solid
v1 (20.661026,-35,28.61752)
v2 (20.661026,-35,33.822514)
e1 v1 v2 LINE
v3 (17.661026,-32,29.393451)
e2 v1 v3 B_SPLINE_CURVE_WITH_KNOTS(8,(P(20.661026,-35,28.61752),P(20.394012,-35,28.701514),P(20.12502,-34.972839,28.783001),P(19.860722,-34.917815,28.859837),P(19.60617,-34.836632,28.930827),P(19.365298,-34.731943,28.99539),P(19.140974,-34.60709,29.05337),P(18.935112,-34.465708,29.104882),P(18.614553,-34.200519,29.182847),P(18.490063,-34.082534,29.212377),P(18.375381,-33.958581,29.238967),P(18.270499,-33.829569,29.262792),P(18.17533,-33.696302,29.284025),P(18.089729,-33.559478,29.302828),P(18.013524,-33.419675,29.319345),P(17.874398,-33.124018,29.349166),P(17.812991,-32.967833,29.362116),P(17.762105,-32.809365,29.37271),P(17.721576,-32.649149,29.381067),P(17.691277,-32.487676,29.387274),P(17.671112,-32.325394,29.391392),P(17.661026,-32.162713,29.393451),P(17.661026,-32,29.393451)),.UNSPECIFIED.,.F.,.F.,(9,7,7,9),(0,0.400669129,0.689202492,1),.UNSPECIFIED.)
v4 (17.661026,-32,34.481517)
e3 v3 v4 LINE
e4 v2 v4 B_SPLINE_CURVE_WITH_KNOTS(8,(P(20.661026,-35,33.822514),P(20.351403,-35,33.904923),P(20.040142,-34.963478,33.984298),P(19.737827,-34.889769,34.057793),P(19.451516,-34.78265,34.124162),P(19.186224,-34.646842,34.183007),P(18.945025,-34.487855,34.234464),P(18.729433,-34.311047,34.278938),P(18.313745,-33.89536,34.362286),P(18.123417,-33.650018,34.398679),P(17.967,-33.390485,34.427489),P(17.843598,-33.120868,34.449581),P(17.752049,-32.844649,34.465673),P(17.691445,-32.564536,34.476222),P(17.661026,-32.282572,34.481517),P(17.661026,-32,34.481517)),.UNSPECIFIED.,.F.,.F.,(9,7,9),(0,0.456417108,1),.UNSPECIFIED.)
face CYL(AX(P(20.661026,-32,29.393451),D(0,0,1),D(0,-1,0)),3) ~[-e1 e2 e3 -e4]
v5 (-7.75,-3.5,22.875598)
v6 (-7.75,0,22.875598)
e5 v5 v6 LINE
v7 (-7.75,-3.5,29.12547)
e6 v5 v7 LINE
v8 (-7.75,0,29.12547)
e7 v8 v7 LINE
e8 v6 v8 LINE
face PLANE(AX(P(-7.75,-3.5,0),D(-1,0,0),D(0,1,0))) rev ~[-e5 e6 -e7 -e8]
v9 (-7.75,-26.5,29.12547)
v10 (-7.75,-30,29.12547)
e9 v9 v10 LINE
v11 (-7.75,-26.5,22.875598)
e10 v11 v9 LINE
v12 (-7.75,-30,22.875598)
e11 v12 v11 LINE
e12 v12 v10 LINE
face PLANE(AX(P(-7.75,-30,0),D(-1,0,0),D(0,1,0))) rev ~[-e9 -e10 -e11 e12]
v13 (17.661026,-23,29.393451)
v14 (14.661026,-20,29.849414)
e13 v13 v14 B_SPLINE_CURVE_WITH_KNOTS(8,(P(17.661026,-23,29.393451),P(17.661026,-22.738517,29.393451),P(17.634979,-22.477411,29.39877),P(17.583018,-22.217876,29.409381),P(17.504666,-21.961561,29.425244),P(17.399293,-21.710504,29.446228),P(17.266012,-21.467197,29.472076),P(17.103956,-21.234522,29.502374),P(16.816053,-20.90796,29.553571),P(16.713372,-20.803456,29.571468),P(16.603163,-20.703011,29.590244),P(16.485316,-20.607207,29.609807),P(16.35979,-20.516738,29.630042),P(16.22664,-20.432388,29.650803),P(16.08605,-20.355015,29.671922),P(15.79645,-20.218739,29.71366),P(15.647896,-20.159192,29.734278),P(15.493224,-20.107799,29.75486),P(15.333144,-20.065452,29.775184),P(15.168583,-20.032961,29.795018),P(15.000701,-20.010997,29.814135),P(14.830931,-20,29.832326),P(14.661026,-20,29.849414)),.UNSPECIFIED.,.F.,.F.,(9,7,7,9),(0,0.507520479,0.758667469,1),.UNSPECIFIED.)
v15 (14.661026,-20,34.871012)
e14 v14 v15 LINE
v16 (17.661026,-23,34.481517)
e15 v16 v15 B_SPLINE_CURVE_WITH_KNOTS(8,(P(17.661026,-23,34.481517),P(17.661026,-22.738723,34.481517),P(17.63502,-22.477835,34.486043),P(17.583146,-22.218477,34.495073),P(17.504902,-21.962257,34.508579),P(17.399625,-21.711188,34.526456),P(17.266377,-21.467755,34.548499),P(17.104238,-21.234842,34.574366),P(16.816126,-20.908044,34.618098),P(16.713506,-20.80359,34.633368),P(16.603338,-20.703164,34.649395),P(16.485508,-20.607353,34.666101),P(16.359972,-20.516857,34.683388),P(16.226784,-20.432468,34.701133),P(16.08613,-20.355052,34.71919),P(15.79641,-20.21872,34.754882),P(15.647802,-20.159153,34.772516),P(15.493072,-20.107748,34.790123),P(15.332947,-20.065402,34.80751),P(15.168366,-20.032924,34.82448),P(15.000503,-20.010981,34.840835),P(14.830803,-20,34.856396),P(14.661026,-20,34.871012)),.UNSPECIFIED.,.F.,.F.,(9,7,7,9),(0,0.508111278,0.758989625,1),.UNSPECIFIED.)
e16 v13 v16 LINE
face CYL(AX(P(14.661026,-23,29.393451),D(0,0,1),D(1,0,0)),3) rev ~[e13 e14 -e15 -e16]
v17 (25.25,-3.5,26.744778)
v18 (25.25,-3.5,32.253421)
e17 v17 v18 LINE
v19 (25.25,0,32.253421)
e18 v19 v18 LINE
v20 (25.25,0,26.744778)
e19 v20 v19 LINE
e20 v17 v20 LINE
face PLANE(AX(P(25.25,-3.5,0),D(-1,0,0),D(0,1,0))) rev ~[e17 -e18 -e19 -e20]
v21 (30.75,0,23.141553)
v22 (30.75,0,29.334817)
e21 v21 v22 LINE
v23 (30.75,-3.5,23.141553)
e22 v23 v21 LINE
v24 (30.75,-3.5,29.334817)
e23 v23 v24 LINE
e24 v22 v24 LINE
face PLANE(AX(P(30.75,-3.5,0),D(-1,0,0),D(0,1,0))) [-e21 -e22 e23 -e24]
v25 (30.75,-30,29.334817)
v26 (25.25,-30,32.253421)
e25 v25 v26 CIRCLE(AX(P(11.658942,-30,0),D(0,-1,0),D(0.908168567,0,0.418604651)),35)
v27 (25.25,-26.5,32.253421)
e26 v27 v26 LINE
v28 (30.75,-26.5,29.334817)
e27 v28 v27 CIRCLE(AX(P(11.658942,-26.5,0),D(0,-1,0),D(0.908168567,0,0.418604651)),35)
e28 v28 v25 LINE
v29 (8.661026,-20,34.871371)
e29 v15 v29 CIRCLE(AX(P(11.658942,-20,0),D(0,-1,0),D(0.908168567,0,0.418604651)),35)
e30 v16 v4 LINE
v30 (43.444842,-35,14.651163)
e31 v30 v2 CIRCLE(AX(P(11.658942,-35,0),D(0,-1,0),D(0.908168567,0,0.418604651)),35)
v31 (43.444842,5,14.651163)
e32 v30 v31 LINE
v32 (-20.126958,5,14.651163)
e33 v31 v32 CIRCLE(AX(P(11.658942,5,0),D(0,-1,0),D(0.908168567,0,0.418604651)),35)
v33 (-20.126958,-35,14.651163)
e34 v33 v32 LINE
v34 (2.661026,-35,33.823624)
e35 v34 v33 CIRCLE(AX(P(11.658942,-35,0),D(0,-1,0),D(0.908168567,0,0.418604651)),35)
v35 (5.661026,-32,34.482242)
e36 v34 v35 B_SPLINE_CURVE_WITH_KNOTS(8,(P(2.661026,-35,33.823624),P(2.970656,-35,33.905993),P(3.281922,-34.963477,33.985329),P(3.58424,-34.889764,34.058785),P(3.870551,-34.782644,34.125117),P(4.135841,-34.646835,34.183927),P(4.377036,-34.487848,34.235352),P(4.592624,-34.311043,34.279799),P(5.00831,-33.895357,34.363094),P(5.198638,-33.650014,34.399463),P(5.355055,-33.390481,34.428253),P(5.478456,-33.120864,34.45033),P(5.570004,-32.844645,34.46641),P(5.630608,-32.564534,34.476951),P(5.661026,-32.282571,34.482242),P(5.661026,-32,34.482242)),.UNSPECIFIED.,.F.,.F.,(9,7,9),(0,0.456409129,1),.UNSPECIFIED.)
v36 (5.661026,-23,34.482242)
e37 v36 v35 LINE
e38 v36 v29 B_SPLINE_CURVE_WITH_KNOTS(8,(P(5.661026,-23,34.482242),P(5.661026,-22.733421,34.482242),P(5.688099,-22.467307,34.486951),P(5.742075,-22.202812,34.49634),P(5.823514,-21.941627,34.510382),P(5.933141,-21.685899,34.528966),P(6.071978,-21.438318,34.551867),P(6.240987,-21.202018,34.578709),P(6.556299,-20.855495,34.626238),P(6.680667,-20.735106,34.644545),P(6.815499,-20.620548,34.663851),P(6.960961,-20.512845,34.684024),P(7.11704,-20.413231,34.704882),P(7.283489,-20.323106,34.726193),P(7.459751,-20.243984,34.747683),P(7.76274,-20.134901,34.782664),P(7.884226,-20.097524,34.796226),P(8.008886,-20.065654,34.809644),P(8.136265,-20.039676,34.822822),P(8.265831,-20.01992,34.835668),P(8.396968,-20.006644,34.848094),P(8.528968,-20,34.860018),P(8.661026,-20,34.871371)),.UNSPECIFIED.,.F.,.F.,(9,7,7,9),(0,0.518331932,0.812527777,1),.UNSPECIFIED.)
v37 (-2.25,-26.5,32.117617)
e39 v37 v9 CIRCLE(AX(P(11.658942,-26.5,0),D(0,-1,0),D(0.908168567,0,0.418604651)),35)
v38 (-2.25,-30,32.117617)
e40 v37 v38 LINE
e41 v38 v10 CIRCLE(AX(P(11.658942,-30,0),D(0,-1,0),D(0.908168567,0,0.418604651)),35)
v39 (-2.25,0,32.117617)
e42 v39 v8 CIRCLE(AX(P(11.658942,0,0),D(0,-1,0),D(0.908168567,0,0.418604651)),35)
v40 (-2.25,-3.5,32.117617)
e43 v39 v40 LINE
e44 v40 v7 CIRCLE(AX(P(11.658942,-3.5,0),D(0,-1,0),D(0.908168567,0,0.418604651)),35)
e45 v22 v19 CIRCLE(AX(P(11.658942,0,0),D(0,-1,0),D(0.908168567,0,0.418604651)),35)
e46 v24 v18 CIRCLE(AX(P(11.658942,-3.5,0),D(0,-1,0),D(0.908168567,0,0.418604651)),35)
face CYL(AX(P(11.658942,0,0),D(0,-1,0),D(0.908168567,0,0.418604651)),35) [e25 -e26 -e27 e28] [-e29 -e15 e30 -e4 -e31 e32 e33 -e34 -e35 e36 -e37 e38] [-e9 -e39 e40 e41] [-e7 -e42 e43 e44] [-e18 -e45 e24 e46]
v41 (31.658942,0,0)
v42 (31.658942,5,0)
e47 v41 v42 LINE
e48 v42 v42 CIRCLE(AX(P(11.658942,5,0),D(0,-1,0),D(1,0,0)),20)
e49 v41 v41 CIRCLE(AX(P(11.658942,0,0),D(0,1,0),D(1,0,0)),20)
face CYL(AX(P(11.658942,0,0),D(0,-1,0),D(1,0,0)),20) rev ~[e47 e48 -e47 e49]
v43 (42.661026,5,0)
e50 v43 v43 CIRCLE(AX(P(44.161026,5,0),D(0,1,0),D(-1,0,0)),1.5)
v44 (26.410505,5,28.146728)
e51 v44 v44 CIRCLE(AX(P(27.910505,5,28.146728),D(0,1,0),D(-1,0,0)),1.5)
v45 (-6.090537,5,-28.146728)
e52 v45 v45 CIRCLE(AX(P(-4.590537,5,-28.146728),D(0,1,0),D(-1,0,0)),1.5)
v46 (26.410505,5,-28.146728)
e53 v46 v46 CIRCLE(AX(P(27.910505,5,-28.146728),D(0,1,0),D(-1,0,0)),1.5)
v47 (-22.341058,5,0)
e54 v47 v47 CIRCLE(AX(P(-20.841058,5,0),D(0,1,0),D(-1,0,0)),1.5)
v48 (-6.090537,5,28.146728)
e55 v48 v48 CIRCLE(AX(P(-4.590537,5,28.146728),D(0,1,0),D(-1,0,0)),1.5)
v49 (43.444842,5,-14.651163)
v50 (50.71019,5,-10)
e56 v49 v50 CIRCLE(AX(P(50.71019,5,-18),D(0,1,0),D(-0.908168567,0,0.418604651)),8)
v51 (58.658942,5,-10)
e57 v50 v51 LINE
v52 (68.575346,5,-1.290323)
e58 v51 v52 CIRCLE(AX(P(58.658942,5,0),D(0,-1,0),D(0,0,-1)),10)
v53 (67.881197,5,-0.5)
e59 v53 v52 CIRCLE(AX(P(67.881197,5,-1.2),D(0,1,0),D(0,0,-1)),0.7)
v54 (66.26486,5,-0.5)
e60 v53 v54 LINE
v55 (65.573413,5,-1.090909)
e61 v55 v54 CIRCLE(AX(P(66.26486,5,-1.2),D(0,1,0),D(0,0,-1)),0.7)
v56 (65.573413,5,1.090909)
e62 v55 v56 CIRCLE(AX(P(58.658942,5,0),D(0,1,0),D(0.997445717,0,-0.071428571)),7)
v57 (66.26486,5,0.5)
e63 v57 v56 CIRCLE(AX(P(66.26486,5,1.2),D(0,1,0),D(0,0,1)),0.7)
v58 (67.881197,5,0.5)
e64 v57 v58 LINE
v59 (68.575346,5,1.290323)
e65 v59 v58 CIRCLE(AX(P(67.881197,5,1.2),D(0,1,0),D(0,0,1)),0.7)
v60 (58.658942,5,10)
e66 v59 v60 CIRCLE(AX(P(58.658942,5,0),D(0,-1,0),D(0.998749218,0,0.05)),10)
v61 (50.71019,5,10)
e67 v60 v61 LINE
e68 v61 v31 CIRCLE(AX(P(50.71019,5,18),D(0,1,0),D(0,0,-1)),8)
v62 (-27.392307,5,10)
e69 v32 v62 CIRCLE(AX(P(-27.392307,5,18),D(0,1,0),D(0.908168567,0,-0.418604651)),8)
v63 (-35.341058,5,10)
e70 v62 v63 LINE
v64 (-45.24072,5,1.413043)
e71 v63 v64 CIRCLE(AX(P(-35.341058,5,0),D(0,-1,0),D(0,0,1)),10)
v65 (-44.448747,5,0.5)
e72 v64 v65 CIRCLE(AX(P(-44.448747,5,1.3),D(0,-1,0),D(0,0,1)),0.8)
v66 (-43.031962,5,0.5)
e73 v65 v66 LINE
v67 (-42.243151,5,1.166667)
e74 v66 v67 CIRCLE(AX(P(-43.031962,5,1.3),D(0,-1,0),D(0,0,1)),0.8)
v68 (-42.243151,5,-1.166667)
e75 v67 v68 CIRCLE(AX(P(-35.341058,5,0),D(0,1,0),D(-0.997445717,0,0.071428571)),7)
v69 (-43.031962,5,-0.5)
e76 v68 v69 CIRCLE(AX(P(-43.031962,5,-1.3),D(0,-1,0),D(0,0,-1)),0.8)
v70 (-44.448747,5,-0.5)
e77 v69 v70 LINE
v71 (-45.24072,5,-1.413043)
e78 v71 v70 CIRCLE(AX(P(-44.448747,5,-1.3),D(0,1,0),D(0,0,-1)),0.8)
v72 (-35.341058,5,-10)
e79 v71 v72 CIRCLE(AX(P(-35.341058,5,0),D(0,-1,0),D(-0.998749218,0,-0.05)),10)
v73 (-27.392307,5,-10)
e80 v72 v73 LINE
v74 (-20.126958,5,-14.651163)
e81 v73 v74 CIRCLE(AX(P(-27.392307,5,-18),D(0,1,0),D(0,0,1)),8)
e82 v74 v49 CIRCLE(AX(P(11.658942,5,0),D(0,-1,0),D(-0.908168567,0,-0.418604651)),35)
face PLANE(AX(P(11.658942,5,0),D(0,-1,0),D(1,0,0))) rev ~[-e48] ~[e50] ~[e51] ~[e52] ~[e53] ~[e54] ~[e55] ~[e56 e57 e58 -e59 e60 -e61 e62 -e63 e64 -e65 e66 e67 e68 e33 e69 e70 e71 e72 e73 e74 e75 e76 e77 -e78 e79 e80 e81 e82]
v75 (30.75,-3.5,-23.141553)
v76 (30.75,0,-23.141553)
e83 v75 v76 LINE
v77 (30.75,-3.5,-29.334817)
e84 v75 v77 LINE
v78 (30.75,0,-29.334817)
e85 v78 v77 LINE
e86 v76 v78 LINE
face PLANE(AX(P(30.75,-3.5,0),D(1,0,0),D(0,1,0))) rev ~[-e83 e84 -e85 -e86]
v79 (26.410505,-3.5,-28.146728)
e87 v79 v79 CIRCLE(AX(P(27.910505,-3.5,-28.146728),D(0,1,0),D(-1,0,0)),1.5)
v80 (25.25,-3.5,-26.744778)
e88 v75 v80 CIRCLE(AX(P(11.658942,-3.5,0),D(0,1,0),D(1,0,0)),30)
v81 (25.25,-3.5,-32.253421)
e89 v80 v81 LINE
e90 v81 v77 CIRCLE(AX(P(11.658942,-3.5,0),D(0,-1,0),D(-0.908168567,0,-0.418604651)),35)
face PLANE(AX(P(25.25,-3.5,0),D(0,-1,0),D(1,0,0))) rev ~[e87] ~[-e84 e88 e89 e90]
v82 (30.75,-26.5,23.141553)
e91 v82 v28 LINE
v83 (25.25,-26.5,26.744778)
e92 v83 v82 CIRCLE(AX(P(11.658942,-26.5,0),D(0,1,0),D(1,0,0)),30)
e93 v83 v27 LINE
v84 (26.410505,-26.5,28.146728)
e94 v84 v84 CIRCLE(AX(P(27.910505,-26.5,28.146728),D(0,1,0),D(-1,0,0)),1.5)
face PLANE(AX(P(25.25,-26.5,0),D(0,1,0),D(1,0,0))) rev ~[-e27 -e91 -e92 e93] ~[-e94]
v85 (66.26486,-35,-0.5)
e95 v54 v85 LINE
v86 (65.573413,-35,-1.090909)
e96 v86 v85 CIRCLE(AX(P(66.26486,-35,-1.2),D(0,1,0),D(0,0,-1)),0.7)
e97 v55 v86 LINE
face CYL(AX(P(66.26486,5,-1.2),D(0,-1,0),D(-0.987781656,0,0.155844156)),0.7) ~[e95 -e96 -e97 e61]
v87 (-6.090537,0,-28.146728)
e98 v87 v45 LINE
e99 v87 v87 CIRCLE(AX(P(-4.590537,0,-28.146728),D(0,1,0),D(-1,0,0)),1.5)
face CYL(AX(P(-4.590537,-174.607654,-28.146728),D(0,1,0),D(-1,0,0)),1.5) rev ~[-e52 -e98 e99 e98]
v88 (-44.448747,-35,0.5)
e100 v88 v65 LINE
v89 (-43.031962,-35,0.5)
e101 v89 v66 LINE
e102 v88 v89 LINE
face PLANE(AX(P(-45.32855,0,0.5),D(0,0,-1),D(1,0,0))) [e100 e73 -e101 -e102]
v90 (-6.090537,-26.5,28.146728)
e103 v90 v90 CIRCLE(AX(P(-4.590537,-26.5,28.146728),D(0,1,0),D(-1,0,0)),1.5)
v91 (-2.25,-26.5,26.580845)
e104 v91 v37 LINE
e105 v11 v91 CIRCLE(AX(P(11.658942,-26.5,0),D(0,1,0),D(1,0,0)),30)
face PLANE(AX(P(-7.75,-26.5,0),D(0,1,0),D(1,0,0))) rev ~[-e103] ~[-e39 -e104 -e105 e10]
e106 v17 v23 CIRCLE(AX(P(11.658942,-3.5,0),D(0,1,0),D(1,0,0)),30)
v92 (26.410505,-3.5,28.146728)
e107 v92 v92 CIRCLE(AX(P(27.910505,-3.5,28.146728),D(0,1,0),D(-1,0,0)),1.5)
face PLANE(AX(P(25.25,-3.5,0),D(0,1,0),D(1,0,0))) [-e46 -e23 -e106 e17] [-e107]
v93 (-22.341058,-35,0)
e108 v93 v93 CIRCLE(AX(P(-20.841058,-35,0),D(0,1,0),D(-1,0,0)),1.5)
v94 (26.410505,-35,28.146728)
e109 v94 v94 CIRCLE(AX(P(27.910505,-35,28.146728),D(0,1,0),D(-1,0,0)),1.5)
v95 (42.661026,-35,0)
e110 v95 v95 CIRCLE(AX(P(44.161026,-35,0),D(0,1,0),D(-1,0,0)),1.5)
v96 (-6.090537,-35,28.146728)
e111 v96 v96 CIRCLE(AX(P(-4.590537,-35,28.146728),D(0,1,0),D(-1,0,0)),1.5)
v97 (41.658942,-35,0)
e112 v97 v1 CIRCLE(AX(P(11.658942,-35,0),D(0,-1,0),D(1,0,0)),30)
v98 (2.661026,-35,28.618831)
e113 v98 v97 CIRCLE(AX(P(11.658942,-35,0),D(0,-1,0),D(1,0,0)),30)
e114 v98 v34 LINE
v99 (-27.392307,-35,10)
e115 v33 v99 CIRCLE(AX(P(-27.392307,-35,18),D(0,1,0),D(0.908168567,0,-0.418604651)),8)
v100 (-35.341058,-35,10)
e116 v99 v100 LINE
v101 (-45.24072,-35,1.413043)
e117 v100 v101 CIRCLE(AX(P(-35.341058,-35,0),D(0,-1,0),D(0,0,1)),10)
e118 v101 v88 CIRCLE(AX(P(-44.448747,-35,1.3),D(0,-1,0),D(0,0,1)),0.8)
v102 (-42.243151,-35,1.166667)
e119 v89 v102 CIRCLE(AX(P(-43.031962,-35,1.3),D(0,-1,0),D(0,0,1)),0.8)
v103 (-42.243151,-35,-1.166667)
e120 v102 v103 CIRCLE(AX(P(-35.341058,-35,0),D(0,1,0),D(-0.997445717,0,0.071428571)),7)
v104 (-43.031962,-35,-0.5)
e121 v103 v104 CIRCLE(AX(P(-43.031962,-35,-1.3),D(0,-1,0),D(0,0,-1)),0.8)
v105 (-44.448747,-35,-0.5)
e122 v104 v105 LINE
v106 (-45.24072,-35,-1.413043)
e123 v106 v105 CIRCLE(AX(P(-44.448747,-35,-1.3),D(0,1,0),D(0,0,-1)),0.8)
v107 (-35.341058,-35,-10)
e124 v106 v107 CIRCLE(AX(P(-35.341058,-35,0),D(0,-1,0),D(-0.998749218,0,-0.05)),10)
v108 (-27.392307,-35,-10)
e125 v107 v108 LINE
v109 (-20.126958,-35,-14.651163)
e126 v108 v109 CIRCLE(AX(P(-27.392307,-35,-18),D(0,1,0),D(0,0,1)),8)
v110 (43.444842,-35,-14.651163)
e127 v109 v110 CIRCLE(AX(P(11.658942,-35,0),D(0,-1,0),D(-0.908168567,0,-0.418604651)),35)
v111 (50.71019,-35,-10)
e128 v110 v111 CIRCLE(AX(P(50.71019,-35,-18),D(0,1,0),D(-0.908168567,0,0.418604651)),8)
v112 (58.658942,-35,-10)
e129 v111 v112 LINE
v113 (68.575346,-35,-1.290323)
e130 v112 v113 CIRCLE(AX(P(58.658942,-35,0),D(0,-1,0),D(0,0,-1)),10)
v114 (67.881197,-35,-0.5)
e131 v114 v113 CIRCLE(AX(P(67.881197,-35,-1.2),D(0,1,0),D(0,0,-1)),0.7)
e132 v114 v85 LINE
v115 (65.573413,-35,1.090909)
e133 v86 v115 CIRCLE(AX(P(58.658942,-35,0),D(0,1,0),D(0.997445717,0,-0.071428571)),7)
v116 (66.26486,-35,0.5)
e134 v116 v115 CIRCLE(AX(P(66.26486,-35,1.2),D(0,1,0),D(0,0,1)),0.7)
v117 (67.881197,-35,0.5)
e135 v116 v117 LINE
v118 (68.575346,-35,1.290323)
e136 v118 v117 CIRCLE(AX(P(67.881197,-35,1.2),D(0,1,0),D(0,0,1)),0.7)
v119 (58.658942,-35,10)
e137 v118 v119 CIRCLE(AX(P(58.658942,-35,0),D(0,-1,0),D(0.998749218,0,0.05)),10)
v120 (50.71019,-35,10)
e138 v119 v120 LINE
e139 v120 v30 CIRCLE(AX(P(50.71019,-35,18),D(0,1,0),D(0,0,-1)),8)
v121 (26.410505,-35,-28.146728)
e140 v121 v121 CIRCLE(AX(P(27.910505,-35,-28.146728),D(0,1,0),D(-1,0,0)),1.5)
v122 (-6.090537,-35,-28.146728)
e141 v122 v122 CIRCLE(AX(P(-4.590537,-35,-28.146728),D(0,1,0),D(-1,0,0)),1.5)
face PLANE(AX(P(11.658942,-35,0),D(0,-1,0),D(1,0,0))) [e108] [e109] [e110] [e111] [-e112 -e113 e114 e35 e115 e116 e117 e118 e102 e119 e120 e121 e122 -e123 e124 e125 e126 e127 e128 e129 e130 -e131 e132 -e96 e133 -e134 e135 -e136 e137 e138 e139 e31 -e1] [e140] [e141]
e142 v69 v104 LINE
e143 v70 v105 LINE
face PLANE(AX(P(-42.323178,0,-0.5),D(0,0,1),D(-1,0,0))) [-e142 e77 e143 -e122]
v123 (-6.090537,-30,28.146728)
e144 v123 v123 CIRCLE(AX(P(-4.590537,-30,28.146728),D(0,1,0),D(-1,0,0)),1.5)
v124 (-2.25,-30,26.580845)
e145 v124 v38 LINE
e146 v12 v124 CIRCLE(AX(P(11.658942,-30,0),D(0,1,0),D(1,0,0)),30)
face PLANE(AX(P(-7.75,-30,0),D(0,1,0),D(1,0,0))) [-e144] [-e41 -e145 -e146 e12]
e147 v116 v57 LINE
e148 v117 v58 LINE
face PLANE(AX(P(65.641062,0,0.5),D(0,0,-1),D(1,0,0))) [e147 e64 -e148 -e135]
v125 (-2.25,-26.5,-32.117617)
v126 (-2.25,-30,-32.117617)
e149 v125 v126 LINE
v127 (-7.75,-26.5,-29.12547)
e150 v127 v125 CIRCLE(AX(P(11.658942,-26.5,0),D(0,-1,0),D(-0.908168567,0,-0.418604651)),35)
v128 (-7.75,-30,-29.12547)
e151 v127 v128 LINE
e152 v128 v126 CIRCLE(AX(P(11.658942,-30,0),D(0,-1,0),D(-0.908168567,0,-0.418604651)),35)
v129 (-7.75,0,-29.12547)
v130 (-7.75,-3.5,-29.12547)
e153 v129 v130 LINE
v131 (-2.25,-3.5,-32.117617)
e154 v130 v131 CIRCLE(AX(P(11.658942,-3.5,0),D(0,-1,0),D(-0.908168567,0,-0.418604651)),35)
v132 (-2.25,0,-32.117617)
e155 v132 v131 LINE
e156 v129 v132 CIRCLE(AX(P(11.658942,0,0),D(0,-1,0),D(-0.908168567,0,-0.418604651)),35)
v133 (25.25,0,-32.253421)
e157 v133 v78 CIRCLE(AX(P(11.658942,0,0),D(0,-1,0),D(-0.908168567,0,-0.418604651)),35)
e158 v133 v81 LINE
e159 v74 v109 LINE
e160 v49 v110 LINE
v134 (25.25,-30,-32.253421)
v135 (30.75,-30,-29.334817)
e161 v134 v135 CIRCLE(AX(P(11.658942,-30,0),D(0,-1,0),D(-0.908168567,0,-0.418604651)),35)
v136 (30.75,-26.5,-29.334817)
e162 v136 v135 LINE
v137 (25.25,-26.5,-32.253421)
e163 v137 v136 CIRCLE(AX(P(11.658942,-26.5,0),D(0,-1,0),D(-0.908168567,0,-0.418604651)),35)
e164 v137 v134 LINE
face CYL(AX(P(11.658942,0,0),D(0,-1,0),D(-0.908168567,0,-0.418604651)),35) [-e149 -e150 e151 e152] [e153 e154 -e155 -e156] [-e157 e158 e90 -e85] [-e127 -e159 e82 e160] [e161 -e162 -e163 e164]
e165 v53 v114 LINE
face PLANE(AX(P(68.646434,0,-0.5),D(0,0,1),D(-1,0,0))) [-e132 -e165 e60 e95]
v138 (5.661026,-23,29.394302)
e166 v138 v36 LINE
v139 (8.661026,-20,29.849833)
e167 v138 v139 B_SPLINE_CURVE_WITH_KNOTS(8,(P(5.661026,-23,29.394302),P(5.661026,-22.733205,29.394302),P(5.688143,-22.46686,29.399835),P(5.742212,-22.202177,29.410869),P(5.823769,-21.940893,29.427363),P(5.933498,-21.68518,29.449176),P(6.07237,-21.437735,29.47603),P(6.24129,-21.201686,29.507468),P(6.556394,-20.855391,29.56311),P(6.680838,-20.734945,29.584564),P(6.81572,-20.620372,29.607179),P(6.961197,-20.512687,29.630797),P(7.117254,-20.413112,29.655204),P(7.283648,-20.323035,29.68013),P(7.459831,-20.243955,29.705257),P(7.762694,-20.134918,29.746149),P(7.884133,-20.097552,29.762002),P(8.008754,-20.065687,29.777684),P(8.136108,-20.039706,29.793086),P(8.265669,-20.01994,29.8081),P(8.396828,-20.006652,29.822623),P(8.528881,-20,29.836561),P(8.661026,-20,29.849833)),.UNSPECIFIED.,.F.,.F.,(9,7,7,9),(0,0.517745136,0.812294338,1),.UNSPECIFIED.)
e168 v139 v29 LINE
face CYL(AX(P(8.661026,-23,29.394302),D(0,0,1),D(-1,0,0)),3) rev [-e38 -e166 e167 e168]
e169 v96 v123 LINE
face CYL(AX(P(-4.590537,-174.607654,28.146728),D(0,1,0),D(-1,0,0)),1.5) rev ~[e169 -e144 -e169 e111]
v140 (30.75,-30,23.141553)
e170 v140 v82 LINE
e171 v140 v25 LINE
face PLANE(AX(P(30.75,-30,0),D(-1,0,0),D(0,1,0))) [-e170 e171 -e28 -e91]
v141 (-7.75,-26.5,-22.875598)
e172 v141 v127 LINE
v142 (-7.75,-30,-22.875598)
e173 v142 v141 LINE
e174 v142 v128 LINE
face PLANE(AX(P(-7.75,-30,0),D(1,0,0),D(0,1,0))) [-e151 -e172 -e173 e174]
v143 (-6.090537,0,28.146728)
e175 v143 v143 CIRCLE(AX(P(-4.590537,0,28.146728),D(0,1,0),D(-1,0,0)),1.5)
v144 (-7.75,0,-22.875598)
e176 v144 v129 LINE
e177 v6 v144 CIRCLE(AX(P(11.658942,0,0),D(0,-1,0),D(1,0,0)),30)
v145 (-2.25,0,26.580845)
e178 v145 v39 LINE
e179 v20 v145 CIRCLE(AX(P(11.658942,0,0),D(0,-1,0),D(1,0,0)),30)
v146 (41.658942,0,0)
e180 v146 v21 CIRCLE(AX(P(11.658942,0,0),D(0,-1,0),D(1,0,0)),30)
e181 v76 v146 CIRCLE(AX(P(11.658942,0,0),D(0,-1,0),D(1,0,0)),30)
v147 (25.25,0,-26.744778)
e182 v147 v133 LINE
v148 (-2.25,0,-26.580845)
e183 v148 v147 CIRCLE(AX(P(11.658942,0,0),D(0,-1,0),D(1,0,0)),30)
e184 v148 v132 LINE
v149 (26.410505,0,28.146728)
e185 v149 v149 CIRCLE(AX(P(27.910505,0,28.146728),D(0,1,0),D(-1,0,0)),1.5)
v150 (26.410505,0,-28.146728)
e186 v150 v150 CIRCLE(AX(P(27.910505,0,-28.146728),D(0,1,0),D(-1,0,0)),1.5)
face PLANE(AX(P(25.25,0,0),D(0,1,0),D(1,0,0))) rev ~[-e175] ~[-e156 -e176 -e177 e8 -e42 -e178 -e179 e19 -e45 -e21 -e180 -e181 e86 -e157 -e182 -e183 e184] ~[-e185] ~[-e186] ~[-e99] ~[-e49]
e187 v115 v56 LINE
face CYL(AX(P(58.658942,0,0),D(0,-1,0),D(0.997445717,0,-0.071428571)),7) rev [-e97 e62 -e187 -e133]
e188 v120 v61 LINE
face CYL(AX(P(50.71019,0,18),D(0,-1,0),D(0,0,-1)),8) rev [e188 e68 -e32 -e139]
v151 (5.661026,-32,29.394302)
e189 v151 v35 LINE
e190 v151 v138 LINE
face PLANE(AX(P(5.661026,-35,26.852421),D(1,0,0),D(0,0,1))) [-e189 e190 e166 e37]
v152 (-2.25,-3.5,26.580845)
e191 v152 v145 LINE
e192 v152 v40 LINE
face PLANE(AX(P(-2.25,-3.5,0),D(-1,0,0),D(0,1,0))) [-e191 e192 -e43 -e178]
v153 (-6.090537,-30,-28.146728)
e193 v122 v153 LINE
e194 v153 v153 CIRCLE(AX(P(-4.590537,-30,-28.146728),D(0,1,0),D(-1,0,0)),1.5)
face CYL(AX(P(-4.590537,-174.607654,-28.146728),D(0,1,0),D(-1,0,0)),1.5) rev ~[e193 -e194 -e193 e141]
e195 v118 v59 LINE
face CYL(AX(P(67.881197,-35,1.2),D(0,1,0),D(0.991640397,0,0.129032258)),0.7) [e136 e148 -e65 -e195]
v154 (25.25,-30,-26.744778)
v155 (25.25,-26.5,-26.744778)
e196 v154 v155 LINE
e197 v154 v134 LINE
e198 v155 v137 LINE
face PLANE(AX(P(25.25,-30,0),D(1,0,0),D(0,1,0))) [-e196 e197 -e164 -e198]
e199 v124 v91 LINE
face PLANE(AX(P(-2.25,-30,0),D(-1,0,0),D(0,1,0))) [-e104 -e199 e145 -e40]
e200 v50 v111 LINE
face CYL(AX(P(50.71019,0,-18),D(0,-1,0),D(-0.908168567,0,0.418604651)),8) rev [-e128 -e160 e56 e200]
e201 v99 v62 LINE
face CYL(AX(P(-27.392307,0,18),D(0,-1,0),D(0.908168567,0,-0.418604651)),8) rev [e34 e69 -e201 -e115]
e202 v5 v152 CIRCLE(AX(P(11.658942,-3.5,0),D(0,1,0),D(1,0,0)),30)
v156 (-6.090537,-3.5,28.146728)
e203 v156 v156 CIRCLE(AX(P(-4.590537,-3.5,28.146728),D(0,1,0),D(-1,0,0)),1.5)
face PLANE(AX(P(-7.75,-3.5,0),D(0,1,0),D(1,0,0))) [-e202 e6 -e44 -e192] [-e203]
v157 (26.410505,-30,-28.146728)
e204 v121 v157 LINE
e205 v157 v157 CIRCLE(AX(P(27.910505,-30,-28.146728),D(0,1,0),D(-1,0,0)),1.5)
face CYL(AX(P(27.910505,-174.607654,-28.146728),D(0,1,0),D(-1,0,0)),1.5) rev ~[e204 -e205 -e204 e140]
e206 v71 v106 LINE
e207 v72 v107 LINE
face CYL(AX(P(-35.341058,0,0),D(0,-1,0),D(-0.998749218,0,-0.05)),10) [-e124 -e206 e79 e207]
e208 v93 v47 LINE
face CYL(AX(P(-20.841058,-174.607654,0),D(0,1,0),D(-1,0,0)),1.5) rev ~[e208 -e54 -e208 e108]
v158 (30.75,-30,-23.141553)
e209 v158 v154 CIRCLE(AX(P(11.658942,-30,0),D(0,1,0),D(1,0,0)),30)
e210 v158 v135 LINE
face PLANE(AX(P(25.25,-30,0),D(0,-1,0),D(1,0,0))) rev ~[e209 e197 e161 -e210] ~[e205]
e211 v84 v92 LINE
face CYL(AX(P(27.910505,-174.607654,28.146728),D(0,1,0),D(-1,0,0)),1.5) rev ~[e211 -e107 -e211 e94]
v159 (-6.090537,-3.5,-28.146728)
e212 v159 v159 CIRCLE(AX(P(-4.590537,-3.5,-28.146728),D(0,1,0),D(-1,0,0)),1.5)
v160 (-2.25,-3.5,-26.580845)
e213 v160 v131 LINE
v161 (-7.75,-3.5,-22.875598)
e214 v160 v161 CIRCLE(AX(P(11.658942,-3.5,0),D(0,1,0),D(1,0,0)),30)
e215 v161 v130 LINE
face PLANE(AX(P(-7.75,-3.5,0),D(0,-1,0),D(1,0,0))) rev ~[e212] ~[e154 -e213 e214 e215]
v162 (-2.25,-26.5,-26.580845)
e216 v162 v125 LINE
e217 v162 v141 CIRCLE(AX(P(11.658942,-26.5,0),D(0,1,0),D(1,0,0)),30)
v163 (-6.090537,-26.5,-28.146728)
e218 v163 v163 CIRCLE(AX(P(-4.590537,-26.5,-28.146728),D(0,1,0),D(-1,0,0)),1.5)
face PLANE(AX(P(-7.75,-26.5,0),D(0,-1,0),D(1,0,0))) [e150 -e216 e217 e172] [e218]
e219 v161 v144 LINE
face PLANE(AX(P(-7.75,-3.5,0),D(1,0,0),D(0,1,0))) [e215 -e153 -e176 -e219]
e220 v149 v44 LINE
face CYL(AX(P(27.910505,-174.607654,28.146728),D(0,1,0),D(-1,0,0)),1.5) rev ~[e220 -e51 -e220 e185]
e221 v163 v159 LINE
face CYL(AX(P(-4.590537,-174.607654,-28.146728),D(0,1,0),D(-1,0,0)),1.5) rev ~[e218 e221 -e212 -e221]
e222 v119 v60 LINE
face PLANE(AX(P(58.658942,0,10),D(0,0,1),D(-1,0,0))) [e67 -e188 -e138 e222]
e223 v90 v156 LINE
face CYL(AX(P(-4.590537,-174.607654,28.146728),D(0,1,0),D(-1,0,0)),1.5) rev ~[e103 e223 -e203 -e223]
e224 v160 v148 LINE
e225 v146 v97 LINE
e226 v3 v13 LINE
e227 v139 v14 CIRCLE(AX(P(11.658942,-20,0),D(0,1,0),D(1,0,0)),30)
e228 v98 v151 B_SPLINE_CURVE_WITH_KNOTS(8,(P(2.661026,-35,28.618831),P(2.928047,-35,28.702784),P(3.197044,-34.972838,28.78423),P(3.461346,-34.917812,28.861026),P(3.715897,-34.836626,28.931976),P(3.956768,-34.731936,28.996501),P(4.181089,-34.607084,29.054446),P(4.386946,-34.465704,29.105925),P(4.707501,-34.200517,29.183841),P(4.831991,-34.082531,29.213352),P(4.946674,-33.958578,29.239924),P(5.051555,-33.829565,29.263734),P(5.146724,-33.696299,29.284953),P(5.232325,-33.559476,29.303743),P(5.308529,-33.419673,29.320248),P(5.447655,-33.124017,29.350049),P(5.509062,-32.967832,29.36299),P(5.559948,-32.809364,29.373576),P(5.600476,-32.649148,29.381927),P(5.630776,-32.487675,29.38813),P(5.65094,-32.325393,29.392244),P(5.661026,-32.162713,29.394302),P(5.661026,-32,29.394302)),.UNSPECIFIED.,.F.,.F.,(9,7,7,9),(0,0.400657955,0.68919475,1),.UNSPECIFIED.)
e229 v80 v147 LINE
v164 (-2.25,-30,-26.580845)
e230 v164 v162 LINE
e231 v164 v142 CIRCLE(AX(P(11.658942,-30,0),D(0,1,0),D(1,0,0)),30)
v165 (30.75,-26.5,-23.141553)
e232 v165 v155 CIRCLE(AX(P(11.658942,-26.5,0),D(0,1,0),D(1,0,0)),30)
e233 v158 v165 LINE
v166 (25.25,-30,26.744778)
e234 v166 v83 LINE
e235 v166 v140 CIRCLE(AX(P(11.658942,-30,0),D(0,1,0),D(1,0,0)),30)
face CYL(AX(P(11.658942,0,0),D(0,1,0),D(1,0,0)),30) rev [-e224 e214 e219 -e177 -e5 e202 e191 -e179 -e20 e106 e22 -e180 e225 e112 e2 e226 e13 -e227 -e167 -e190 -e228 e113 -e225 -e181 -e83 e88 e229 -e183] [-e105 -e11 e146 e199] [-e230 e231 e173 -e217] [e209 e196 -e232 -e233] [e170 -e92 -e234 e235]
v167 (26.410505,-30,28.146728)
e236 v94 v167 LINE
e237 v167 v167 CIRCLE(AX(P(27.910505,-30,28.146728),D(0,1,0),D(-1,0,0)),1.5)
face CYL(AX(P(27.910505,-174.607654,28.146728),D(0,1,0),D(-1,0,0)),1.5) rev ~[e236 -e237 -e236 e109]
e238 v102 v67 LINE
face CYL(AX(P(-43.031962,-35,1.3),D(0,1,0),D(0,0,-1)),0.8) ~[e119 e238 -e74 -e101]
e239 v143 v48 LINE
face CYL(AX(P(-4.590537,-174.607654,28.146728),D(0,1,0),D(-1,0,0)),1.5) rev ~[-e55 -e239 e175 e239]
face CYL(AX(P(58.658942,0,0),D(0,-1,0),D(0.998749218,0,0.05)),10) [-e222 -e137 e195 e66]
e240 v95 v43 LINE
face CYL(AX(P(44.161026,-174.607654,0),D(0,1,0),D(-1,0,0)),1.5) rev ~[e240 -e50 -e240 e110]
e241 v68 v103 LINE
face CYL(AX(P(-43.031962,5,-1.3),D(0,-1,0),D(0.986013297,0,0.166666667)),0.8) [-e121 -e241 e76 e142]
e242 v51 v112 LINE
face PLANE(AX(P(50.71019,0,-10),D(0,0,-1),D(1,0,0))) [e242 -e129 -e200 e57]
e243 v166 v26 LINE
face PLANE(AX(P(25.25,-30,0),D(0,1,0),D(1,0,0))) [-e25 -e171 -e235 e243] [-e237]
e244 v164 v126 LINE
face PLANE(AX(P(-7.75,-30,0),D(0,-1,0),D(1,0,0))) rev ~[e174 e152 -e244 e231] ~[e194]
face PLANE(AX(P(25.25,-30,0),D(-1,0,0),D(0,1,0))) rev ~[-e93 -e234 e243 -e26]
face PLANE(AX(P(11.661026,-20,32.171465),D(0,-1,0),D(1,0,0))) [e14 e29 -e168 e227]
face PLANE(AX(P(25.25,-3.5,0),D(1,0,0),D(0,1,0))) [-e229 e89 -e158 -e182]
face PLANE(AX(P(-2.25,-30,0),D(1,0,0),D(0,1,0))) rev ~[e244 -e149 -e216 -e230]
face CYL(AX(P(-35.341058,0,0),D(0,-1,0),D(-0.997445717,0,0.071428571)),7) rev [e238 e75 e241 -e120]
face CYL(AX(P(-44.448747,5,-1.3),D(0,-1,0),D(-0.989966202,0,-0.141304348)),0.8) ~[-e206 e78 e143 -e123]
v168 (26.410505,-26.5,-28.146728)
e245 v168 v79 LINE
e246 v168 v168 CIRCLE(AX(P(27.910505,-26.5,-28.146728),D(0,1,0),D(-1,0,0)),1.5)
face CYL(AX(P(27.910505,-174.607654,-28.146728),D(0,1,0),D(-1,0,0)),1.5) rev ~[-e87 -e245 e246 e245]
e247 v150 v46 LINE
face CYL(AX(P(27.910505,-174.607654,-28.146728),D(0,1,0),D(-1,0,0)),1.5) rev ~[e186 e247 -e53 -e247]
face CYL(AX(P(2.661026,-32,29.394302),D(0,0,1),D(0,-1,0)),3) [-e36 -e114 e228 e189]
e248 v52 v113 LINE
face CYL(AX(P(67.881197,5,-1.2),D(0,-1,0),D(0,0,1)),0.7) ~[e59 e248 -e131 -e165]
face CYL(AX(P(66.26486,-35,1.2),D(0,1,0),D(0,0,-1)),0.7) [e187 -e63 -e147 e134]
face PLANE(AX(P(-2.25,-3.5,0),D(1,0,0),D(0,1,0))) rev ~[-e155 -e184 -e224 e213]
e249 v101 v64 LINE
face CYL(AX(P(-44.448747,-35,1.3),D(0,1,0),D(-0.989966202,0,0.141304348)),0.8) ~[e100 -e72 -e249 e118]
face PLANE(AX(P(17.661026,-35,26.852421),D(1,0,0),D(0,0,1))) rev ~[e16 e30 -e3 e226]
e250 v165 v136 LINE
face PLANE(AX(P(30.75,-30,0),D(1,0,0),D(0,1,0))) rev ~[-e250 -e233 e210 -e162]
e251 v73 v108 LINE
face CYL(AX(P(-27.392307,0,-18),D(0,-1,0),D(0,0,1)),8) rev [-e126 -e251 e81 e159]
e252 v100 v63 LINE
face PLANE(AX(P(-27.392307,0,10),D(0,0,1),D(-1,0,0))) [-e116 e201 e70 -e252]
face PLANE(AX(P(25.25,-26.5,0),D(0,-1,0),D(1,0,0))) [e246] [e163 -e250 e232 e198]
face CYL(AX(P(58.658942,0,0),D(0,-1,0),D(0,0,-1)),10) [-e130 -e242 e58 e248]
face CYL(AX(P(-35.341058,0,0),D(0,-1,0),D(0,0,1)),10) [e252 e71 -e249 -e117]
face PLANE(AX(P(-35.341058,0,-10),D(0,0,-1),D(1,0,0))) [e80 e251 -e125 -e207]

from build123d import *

# Parameters (mm, degrees)
F0_R           = 30
F1_DEPTH       = 35
F0_R_2         = 20
F2_DEPTH       = 5
F5_D           = 3
F4_W           = 12
F4_H           = 10.6380879879
F6_DEPTH       = 15
F7_R           = 3
F8_R           = 0.7
F9_R           = 0.8
F10_W          = 5.5
F10_H          = 3.5
F11_DEPTH      = 50
F11_DEPTH_BACK = 50


with BuildPart() as f1:
    # F0 (on Front) → F1 (new body)
    with BuildSketch(Plane.XZ):
        with BuildLine():
            ThreePointArc((-42.3231782953, 0.5), (-28.3410582734, 0), (-42.3231782953, -0.5))
            Line((-42.3231782953, -0.5), (-45.3285504511, -0.5))
            ThreePointArc((-45.3285504511, -0.5), (-42.2330826494, -7.2456883731), (-35.3410582734, -10))
            Line((-35.3410582734, -10), (-27.3923066529, -10))
            ThreePointArc((-27.3923066529, -10), (-23.0789957248, -11.2623929443), (-20.1269581172, -14.6511627907))
            ThreePointArc((-20.1269581172, -14.6511627907), (11.6589417266, -35), (43.4448415704, -14.6511627907))
            ThreePointArc((43.4448415704, -14.6511627907), (46.396879178, -11.2623929443), (50.7101901061, -10))
            Line((50.7101901061, -10), (58.6589417266, -10))
            ThreePointArc((58.6589417266, -10), (65.5509661026, -7.2456883731), (68.6464339043, -0.5))
            Line((68.6464339043, -0.5), (65.6410617485, -0.5))
            ThreePointArc((65.6410617485, -0.5), (51.6589417266, 0), (65.6410617485, 0.5))
            Line((65.6410617485, 0.5), (68.6464339043, 0.5))
            ThreePointArc((68.6464339043, 0.5), (65.5509661026, 7.2456883731), (58.6589417266, 10))
            Line((58.6589417266, 10), (50.7101901061, 10))
            ThreePointArc((50.7101901061, 10), (46.396879178, 11.2623929443), (43.4448415704, 14.6511627907))
            ThreePointArc((43.4448415704, 14.6511627907), (11.6589417266, 35), (-20.1269581172, 14.6511627907))
            ThreePointArc((-20.1269581172, 14.6511627907), (-23.0789957248, 11.2623929443), (-27.3923066529, 10))
            Line((-27.3923066529, 10), (-35.3410582734, 10))
            ThreePointArc((-35.3410582734, 10), (-42.2330826494, 7.2456883731), (-45.3285504511, 0.5))
            Line((-45.3285504511, 0.5), (-42.3231782953, 0.5))
        make_face()
        with Locations((11.6589417266, 0)):
            Circle(F0_R, mode=Mode.SUBTRACT)
    extrude(amount=F1_DEPTH)

    # F0 (on Front) → F2 (join)
    with BuildSketch(Plane.XZ):
        with BuildLine():
            ThreePointArc((-42.3231782953, 0.5), (-28.3410582734, 0), (-42.3231782953, -0.5))
            Line((-42.3231782953, -0.5), (-45.3285504511, -0.5))
            ThreePointArc((-45.3285504511, -0.5), (-42.2330826494, -7.2456883731), (-35.3410582734, -10))
            Line((-35.3410582734, -10), (-27.3923066529, -10))
            ThreePointArc((-27.3923066529, -10), (-23.0789957248, -11.2623929443), (-20.1269581172, -14.6511627907))
            ThreePointArc((-20.1269581172, -14.6511627907), (11.6589417266, -35), (43.4448415704, -14.6511627907))
            ThreePointArc((43.4448415704, -14.6511627907), (46.396879178, -11.2623929443), (50.7101901061, -10))
            Line((50.7101901061, -10), (58.6589417266, -10))
            ThreePointArc((58.6589417266, -10), (65.5509661026, -7.2456883731), (68.6464339043, -0.5))
            Line((68.6464339043, -0.5), (65.6410617485, -0.5))
            ThreePointArc((65.6410617485, -0.5), (51.6589417266, 0), (65.6410617485, 0.5))
            Line((65.6410617485, 0.5), (68.6464339043, 0.5))
            ThreePointArc((68.6464339043, 0.5), (65.5509661026, 7.2456883731), (58.6589417266, 10))
            Line((58.6589417266, 10), (50.7101901061, 10))
            ThreePointArc((50.7101901061, 10), (46.396879178, 11.2623929443), (43.4448415704, 14.6511627907))
            ThreePointArc((43.4448415704, 14.6511627907), (11.6589417266, 35), (-20.1269581172, 14.6511627907))
            ThreePointArc((-20.1269581172, 14.6511627907), (-23.0789957248, 11.2623929443), (-27.3923066529, 10))
            Line((-27.3923066529, 10), (-35.3410582734, 10))
            ThreePointArc((-35.3410582734, 10), (-42.2330826494, 7.2456883731), (-45.3285504511, 0.5))
            Line((-45.3285504511, 0.5), (-42.3231782953, 0.5))
        make_face()
        with Locations((11.6589417266, 0)):
            Circle(F0_R, mode=Mode.SUBTRACT)
        with Locations((11.6589417266, 0)):
            Circle(F0_R)
        with Locations((11.6589417266, 0)):
            Circle(F0_R_2, mode=Mode.SUBTRACT)
    extrude(amount=-F2_DEPTH)

    # F5 (through all)
    with Locations(Plane.XZ.offset(35)):
        with Locations((-4.5905371539, 28.1467282284), (27.910505085, 28.1467282284), (44.1610262045, 0), (27.910505085, -28.1467282284), (-4.5905371539, -28.1467282284), (-20.8410582734, 0)):
            Hole(F5_D / 2)

    # F4 (on offset) → F6 (cut)
    with BuildSketch(Plane.XZ.offset(35)):
        with Locations((11.6610262045, 32.1714654565)):
            Rectangle(F4_W, F4_H)
    extrude(amount=-F6_DEPTH, mode=Mode.SUBTRACT)

    # F7
    f7_edges = [f1.edges().sort_by_distance(p)[0] for p in [
        (5.661026, -20, 31.938272),
        (17.661026, -20, 31.937484),
        (5.661026, -35, 31.938272),
        (17.661026, -35, 31.937484),
    ]]
    fillet(f7_edges, radius=F7_R)

    # F8
    f8_edges = [f1.edges().sort_by_distance(p)[0] for p in [
        (68.646434, -15, 0.5),
        (68.646434, -15, -0.5),
        (65.641062, -15, -0.5),
        (65.641062, -15, 0.5),
    ]]
    fillet(f8_edges, radius=F8_R)

    # F9
    f9_edges = [f1.edges().sort_by_distance(p)[0] for p in [
        (-42.323178, -15, 0.5),
        (-42.323178, -15, -0.5),
        (-45.32855, -15, 0.5),
        (-45.32855, -15, -0.5),
    ]]
    fillet(f9_edges, radius=F9_R)

    # F10 (on Top) → F11 (cut, two sides)
    with BuildSketch(Plane.XY) as f11_sk:
        with Locations((-5, -28.25)):
            Rectangle(F10_W, F10_H)
        with Locations((28, -28.25)):
            Rectangle(F10_W, F10_H)
        with Locations((-5, -1.75)):
            Rectangle(F10_W, F10_H)
        with Locations((28, -1.75)):
            Rectangle(F10_W, F10_H)
    extrude(amount=F11_DEPTH, mode=Mode.SUBTRACT)
    extrude(f11_sk.sketch, amount=-F11_DEPTH_BACK, mode=Mode.SUBTRACT)


solid = f1.part
